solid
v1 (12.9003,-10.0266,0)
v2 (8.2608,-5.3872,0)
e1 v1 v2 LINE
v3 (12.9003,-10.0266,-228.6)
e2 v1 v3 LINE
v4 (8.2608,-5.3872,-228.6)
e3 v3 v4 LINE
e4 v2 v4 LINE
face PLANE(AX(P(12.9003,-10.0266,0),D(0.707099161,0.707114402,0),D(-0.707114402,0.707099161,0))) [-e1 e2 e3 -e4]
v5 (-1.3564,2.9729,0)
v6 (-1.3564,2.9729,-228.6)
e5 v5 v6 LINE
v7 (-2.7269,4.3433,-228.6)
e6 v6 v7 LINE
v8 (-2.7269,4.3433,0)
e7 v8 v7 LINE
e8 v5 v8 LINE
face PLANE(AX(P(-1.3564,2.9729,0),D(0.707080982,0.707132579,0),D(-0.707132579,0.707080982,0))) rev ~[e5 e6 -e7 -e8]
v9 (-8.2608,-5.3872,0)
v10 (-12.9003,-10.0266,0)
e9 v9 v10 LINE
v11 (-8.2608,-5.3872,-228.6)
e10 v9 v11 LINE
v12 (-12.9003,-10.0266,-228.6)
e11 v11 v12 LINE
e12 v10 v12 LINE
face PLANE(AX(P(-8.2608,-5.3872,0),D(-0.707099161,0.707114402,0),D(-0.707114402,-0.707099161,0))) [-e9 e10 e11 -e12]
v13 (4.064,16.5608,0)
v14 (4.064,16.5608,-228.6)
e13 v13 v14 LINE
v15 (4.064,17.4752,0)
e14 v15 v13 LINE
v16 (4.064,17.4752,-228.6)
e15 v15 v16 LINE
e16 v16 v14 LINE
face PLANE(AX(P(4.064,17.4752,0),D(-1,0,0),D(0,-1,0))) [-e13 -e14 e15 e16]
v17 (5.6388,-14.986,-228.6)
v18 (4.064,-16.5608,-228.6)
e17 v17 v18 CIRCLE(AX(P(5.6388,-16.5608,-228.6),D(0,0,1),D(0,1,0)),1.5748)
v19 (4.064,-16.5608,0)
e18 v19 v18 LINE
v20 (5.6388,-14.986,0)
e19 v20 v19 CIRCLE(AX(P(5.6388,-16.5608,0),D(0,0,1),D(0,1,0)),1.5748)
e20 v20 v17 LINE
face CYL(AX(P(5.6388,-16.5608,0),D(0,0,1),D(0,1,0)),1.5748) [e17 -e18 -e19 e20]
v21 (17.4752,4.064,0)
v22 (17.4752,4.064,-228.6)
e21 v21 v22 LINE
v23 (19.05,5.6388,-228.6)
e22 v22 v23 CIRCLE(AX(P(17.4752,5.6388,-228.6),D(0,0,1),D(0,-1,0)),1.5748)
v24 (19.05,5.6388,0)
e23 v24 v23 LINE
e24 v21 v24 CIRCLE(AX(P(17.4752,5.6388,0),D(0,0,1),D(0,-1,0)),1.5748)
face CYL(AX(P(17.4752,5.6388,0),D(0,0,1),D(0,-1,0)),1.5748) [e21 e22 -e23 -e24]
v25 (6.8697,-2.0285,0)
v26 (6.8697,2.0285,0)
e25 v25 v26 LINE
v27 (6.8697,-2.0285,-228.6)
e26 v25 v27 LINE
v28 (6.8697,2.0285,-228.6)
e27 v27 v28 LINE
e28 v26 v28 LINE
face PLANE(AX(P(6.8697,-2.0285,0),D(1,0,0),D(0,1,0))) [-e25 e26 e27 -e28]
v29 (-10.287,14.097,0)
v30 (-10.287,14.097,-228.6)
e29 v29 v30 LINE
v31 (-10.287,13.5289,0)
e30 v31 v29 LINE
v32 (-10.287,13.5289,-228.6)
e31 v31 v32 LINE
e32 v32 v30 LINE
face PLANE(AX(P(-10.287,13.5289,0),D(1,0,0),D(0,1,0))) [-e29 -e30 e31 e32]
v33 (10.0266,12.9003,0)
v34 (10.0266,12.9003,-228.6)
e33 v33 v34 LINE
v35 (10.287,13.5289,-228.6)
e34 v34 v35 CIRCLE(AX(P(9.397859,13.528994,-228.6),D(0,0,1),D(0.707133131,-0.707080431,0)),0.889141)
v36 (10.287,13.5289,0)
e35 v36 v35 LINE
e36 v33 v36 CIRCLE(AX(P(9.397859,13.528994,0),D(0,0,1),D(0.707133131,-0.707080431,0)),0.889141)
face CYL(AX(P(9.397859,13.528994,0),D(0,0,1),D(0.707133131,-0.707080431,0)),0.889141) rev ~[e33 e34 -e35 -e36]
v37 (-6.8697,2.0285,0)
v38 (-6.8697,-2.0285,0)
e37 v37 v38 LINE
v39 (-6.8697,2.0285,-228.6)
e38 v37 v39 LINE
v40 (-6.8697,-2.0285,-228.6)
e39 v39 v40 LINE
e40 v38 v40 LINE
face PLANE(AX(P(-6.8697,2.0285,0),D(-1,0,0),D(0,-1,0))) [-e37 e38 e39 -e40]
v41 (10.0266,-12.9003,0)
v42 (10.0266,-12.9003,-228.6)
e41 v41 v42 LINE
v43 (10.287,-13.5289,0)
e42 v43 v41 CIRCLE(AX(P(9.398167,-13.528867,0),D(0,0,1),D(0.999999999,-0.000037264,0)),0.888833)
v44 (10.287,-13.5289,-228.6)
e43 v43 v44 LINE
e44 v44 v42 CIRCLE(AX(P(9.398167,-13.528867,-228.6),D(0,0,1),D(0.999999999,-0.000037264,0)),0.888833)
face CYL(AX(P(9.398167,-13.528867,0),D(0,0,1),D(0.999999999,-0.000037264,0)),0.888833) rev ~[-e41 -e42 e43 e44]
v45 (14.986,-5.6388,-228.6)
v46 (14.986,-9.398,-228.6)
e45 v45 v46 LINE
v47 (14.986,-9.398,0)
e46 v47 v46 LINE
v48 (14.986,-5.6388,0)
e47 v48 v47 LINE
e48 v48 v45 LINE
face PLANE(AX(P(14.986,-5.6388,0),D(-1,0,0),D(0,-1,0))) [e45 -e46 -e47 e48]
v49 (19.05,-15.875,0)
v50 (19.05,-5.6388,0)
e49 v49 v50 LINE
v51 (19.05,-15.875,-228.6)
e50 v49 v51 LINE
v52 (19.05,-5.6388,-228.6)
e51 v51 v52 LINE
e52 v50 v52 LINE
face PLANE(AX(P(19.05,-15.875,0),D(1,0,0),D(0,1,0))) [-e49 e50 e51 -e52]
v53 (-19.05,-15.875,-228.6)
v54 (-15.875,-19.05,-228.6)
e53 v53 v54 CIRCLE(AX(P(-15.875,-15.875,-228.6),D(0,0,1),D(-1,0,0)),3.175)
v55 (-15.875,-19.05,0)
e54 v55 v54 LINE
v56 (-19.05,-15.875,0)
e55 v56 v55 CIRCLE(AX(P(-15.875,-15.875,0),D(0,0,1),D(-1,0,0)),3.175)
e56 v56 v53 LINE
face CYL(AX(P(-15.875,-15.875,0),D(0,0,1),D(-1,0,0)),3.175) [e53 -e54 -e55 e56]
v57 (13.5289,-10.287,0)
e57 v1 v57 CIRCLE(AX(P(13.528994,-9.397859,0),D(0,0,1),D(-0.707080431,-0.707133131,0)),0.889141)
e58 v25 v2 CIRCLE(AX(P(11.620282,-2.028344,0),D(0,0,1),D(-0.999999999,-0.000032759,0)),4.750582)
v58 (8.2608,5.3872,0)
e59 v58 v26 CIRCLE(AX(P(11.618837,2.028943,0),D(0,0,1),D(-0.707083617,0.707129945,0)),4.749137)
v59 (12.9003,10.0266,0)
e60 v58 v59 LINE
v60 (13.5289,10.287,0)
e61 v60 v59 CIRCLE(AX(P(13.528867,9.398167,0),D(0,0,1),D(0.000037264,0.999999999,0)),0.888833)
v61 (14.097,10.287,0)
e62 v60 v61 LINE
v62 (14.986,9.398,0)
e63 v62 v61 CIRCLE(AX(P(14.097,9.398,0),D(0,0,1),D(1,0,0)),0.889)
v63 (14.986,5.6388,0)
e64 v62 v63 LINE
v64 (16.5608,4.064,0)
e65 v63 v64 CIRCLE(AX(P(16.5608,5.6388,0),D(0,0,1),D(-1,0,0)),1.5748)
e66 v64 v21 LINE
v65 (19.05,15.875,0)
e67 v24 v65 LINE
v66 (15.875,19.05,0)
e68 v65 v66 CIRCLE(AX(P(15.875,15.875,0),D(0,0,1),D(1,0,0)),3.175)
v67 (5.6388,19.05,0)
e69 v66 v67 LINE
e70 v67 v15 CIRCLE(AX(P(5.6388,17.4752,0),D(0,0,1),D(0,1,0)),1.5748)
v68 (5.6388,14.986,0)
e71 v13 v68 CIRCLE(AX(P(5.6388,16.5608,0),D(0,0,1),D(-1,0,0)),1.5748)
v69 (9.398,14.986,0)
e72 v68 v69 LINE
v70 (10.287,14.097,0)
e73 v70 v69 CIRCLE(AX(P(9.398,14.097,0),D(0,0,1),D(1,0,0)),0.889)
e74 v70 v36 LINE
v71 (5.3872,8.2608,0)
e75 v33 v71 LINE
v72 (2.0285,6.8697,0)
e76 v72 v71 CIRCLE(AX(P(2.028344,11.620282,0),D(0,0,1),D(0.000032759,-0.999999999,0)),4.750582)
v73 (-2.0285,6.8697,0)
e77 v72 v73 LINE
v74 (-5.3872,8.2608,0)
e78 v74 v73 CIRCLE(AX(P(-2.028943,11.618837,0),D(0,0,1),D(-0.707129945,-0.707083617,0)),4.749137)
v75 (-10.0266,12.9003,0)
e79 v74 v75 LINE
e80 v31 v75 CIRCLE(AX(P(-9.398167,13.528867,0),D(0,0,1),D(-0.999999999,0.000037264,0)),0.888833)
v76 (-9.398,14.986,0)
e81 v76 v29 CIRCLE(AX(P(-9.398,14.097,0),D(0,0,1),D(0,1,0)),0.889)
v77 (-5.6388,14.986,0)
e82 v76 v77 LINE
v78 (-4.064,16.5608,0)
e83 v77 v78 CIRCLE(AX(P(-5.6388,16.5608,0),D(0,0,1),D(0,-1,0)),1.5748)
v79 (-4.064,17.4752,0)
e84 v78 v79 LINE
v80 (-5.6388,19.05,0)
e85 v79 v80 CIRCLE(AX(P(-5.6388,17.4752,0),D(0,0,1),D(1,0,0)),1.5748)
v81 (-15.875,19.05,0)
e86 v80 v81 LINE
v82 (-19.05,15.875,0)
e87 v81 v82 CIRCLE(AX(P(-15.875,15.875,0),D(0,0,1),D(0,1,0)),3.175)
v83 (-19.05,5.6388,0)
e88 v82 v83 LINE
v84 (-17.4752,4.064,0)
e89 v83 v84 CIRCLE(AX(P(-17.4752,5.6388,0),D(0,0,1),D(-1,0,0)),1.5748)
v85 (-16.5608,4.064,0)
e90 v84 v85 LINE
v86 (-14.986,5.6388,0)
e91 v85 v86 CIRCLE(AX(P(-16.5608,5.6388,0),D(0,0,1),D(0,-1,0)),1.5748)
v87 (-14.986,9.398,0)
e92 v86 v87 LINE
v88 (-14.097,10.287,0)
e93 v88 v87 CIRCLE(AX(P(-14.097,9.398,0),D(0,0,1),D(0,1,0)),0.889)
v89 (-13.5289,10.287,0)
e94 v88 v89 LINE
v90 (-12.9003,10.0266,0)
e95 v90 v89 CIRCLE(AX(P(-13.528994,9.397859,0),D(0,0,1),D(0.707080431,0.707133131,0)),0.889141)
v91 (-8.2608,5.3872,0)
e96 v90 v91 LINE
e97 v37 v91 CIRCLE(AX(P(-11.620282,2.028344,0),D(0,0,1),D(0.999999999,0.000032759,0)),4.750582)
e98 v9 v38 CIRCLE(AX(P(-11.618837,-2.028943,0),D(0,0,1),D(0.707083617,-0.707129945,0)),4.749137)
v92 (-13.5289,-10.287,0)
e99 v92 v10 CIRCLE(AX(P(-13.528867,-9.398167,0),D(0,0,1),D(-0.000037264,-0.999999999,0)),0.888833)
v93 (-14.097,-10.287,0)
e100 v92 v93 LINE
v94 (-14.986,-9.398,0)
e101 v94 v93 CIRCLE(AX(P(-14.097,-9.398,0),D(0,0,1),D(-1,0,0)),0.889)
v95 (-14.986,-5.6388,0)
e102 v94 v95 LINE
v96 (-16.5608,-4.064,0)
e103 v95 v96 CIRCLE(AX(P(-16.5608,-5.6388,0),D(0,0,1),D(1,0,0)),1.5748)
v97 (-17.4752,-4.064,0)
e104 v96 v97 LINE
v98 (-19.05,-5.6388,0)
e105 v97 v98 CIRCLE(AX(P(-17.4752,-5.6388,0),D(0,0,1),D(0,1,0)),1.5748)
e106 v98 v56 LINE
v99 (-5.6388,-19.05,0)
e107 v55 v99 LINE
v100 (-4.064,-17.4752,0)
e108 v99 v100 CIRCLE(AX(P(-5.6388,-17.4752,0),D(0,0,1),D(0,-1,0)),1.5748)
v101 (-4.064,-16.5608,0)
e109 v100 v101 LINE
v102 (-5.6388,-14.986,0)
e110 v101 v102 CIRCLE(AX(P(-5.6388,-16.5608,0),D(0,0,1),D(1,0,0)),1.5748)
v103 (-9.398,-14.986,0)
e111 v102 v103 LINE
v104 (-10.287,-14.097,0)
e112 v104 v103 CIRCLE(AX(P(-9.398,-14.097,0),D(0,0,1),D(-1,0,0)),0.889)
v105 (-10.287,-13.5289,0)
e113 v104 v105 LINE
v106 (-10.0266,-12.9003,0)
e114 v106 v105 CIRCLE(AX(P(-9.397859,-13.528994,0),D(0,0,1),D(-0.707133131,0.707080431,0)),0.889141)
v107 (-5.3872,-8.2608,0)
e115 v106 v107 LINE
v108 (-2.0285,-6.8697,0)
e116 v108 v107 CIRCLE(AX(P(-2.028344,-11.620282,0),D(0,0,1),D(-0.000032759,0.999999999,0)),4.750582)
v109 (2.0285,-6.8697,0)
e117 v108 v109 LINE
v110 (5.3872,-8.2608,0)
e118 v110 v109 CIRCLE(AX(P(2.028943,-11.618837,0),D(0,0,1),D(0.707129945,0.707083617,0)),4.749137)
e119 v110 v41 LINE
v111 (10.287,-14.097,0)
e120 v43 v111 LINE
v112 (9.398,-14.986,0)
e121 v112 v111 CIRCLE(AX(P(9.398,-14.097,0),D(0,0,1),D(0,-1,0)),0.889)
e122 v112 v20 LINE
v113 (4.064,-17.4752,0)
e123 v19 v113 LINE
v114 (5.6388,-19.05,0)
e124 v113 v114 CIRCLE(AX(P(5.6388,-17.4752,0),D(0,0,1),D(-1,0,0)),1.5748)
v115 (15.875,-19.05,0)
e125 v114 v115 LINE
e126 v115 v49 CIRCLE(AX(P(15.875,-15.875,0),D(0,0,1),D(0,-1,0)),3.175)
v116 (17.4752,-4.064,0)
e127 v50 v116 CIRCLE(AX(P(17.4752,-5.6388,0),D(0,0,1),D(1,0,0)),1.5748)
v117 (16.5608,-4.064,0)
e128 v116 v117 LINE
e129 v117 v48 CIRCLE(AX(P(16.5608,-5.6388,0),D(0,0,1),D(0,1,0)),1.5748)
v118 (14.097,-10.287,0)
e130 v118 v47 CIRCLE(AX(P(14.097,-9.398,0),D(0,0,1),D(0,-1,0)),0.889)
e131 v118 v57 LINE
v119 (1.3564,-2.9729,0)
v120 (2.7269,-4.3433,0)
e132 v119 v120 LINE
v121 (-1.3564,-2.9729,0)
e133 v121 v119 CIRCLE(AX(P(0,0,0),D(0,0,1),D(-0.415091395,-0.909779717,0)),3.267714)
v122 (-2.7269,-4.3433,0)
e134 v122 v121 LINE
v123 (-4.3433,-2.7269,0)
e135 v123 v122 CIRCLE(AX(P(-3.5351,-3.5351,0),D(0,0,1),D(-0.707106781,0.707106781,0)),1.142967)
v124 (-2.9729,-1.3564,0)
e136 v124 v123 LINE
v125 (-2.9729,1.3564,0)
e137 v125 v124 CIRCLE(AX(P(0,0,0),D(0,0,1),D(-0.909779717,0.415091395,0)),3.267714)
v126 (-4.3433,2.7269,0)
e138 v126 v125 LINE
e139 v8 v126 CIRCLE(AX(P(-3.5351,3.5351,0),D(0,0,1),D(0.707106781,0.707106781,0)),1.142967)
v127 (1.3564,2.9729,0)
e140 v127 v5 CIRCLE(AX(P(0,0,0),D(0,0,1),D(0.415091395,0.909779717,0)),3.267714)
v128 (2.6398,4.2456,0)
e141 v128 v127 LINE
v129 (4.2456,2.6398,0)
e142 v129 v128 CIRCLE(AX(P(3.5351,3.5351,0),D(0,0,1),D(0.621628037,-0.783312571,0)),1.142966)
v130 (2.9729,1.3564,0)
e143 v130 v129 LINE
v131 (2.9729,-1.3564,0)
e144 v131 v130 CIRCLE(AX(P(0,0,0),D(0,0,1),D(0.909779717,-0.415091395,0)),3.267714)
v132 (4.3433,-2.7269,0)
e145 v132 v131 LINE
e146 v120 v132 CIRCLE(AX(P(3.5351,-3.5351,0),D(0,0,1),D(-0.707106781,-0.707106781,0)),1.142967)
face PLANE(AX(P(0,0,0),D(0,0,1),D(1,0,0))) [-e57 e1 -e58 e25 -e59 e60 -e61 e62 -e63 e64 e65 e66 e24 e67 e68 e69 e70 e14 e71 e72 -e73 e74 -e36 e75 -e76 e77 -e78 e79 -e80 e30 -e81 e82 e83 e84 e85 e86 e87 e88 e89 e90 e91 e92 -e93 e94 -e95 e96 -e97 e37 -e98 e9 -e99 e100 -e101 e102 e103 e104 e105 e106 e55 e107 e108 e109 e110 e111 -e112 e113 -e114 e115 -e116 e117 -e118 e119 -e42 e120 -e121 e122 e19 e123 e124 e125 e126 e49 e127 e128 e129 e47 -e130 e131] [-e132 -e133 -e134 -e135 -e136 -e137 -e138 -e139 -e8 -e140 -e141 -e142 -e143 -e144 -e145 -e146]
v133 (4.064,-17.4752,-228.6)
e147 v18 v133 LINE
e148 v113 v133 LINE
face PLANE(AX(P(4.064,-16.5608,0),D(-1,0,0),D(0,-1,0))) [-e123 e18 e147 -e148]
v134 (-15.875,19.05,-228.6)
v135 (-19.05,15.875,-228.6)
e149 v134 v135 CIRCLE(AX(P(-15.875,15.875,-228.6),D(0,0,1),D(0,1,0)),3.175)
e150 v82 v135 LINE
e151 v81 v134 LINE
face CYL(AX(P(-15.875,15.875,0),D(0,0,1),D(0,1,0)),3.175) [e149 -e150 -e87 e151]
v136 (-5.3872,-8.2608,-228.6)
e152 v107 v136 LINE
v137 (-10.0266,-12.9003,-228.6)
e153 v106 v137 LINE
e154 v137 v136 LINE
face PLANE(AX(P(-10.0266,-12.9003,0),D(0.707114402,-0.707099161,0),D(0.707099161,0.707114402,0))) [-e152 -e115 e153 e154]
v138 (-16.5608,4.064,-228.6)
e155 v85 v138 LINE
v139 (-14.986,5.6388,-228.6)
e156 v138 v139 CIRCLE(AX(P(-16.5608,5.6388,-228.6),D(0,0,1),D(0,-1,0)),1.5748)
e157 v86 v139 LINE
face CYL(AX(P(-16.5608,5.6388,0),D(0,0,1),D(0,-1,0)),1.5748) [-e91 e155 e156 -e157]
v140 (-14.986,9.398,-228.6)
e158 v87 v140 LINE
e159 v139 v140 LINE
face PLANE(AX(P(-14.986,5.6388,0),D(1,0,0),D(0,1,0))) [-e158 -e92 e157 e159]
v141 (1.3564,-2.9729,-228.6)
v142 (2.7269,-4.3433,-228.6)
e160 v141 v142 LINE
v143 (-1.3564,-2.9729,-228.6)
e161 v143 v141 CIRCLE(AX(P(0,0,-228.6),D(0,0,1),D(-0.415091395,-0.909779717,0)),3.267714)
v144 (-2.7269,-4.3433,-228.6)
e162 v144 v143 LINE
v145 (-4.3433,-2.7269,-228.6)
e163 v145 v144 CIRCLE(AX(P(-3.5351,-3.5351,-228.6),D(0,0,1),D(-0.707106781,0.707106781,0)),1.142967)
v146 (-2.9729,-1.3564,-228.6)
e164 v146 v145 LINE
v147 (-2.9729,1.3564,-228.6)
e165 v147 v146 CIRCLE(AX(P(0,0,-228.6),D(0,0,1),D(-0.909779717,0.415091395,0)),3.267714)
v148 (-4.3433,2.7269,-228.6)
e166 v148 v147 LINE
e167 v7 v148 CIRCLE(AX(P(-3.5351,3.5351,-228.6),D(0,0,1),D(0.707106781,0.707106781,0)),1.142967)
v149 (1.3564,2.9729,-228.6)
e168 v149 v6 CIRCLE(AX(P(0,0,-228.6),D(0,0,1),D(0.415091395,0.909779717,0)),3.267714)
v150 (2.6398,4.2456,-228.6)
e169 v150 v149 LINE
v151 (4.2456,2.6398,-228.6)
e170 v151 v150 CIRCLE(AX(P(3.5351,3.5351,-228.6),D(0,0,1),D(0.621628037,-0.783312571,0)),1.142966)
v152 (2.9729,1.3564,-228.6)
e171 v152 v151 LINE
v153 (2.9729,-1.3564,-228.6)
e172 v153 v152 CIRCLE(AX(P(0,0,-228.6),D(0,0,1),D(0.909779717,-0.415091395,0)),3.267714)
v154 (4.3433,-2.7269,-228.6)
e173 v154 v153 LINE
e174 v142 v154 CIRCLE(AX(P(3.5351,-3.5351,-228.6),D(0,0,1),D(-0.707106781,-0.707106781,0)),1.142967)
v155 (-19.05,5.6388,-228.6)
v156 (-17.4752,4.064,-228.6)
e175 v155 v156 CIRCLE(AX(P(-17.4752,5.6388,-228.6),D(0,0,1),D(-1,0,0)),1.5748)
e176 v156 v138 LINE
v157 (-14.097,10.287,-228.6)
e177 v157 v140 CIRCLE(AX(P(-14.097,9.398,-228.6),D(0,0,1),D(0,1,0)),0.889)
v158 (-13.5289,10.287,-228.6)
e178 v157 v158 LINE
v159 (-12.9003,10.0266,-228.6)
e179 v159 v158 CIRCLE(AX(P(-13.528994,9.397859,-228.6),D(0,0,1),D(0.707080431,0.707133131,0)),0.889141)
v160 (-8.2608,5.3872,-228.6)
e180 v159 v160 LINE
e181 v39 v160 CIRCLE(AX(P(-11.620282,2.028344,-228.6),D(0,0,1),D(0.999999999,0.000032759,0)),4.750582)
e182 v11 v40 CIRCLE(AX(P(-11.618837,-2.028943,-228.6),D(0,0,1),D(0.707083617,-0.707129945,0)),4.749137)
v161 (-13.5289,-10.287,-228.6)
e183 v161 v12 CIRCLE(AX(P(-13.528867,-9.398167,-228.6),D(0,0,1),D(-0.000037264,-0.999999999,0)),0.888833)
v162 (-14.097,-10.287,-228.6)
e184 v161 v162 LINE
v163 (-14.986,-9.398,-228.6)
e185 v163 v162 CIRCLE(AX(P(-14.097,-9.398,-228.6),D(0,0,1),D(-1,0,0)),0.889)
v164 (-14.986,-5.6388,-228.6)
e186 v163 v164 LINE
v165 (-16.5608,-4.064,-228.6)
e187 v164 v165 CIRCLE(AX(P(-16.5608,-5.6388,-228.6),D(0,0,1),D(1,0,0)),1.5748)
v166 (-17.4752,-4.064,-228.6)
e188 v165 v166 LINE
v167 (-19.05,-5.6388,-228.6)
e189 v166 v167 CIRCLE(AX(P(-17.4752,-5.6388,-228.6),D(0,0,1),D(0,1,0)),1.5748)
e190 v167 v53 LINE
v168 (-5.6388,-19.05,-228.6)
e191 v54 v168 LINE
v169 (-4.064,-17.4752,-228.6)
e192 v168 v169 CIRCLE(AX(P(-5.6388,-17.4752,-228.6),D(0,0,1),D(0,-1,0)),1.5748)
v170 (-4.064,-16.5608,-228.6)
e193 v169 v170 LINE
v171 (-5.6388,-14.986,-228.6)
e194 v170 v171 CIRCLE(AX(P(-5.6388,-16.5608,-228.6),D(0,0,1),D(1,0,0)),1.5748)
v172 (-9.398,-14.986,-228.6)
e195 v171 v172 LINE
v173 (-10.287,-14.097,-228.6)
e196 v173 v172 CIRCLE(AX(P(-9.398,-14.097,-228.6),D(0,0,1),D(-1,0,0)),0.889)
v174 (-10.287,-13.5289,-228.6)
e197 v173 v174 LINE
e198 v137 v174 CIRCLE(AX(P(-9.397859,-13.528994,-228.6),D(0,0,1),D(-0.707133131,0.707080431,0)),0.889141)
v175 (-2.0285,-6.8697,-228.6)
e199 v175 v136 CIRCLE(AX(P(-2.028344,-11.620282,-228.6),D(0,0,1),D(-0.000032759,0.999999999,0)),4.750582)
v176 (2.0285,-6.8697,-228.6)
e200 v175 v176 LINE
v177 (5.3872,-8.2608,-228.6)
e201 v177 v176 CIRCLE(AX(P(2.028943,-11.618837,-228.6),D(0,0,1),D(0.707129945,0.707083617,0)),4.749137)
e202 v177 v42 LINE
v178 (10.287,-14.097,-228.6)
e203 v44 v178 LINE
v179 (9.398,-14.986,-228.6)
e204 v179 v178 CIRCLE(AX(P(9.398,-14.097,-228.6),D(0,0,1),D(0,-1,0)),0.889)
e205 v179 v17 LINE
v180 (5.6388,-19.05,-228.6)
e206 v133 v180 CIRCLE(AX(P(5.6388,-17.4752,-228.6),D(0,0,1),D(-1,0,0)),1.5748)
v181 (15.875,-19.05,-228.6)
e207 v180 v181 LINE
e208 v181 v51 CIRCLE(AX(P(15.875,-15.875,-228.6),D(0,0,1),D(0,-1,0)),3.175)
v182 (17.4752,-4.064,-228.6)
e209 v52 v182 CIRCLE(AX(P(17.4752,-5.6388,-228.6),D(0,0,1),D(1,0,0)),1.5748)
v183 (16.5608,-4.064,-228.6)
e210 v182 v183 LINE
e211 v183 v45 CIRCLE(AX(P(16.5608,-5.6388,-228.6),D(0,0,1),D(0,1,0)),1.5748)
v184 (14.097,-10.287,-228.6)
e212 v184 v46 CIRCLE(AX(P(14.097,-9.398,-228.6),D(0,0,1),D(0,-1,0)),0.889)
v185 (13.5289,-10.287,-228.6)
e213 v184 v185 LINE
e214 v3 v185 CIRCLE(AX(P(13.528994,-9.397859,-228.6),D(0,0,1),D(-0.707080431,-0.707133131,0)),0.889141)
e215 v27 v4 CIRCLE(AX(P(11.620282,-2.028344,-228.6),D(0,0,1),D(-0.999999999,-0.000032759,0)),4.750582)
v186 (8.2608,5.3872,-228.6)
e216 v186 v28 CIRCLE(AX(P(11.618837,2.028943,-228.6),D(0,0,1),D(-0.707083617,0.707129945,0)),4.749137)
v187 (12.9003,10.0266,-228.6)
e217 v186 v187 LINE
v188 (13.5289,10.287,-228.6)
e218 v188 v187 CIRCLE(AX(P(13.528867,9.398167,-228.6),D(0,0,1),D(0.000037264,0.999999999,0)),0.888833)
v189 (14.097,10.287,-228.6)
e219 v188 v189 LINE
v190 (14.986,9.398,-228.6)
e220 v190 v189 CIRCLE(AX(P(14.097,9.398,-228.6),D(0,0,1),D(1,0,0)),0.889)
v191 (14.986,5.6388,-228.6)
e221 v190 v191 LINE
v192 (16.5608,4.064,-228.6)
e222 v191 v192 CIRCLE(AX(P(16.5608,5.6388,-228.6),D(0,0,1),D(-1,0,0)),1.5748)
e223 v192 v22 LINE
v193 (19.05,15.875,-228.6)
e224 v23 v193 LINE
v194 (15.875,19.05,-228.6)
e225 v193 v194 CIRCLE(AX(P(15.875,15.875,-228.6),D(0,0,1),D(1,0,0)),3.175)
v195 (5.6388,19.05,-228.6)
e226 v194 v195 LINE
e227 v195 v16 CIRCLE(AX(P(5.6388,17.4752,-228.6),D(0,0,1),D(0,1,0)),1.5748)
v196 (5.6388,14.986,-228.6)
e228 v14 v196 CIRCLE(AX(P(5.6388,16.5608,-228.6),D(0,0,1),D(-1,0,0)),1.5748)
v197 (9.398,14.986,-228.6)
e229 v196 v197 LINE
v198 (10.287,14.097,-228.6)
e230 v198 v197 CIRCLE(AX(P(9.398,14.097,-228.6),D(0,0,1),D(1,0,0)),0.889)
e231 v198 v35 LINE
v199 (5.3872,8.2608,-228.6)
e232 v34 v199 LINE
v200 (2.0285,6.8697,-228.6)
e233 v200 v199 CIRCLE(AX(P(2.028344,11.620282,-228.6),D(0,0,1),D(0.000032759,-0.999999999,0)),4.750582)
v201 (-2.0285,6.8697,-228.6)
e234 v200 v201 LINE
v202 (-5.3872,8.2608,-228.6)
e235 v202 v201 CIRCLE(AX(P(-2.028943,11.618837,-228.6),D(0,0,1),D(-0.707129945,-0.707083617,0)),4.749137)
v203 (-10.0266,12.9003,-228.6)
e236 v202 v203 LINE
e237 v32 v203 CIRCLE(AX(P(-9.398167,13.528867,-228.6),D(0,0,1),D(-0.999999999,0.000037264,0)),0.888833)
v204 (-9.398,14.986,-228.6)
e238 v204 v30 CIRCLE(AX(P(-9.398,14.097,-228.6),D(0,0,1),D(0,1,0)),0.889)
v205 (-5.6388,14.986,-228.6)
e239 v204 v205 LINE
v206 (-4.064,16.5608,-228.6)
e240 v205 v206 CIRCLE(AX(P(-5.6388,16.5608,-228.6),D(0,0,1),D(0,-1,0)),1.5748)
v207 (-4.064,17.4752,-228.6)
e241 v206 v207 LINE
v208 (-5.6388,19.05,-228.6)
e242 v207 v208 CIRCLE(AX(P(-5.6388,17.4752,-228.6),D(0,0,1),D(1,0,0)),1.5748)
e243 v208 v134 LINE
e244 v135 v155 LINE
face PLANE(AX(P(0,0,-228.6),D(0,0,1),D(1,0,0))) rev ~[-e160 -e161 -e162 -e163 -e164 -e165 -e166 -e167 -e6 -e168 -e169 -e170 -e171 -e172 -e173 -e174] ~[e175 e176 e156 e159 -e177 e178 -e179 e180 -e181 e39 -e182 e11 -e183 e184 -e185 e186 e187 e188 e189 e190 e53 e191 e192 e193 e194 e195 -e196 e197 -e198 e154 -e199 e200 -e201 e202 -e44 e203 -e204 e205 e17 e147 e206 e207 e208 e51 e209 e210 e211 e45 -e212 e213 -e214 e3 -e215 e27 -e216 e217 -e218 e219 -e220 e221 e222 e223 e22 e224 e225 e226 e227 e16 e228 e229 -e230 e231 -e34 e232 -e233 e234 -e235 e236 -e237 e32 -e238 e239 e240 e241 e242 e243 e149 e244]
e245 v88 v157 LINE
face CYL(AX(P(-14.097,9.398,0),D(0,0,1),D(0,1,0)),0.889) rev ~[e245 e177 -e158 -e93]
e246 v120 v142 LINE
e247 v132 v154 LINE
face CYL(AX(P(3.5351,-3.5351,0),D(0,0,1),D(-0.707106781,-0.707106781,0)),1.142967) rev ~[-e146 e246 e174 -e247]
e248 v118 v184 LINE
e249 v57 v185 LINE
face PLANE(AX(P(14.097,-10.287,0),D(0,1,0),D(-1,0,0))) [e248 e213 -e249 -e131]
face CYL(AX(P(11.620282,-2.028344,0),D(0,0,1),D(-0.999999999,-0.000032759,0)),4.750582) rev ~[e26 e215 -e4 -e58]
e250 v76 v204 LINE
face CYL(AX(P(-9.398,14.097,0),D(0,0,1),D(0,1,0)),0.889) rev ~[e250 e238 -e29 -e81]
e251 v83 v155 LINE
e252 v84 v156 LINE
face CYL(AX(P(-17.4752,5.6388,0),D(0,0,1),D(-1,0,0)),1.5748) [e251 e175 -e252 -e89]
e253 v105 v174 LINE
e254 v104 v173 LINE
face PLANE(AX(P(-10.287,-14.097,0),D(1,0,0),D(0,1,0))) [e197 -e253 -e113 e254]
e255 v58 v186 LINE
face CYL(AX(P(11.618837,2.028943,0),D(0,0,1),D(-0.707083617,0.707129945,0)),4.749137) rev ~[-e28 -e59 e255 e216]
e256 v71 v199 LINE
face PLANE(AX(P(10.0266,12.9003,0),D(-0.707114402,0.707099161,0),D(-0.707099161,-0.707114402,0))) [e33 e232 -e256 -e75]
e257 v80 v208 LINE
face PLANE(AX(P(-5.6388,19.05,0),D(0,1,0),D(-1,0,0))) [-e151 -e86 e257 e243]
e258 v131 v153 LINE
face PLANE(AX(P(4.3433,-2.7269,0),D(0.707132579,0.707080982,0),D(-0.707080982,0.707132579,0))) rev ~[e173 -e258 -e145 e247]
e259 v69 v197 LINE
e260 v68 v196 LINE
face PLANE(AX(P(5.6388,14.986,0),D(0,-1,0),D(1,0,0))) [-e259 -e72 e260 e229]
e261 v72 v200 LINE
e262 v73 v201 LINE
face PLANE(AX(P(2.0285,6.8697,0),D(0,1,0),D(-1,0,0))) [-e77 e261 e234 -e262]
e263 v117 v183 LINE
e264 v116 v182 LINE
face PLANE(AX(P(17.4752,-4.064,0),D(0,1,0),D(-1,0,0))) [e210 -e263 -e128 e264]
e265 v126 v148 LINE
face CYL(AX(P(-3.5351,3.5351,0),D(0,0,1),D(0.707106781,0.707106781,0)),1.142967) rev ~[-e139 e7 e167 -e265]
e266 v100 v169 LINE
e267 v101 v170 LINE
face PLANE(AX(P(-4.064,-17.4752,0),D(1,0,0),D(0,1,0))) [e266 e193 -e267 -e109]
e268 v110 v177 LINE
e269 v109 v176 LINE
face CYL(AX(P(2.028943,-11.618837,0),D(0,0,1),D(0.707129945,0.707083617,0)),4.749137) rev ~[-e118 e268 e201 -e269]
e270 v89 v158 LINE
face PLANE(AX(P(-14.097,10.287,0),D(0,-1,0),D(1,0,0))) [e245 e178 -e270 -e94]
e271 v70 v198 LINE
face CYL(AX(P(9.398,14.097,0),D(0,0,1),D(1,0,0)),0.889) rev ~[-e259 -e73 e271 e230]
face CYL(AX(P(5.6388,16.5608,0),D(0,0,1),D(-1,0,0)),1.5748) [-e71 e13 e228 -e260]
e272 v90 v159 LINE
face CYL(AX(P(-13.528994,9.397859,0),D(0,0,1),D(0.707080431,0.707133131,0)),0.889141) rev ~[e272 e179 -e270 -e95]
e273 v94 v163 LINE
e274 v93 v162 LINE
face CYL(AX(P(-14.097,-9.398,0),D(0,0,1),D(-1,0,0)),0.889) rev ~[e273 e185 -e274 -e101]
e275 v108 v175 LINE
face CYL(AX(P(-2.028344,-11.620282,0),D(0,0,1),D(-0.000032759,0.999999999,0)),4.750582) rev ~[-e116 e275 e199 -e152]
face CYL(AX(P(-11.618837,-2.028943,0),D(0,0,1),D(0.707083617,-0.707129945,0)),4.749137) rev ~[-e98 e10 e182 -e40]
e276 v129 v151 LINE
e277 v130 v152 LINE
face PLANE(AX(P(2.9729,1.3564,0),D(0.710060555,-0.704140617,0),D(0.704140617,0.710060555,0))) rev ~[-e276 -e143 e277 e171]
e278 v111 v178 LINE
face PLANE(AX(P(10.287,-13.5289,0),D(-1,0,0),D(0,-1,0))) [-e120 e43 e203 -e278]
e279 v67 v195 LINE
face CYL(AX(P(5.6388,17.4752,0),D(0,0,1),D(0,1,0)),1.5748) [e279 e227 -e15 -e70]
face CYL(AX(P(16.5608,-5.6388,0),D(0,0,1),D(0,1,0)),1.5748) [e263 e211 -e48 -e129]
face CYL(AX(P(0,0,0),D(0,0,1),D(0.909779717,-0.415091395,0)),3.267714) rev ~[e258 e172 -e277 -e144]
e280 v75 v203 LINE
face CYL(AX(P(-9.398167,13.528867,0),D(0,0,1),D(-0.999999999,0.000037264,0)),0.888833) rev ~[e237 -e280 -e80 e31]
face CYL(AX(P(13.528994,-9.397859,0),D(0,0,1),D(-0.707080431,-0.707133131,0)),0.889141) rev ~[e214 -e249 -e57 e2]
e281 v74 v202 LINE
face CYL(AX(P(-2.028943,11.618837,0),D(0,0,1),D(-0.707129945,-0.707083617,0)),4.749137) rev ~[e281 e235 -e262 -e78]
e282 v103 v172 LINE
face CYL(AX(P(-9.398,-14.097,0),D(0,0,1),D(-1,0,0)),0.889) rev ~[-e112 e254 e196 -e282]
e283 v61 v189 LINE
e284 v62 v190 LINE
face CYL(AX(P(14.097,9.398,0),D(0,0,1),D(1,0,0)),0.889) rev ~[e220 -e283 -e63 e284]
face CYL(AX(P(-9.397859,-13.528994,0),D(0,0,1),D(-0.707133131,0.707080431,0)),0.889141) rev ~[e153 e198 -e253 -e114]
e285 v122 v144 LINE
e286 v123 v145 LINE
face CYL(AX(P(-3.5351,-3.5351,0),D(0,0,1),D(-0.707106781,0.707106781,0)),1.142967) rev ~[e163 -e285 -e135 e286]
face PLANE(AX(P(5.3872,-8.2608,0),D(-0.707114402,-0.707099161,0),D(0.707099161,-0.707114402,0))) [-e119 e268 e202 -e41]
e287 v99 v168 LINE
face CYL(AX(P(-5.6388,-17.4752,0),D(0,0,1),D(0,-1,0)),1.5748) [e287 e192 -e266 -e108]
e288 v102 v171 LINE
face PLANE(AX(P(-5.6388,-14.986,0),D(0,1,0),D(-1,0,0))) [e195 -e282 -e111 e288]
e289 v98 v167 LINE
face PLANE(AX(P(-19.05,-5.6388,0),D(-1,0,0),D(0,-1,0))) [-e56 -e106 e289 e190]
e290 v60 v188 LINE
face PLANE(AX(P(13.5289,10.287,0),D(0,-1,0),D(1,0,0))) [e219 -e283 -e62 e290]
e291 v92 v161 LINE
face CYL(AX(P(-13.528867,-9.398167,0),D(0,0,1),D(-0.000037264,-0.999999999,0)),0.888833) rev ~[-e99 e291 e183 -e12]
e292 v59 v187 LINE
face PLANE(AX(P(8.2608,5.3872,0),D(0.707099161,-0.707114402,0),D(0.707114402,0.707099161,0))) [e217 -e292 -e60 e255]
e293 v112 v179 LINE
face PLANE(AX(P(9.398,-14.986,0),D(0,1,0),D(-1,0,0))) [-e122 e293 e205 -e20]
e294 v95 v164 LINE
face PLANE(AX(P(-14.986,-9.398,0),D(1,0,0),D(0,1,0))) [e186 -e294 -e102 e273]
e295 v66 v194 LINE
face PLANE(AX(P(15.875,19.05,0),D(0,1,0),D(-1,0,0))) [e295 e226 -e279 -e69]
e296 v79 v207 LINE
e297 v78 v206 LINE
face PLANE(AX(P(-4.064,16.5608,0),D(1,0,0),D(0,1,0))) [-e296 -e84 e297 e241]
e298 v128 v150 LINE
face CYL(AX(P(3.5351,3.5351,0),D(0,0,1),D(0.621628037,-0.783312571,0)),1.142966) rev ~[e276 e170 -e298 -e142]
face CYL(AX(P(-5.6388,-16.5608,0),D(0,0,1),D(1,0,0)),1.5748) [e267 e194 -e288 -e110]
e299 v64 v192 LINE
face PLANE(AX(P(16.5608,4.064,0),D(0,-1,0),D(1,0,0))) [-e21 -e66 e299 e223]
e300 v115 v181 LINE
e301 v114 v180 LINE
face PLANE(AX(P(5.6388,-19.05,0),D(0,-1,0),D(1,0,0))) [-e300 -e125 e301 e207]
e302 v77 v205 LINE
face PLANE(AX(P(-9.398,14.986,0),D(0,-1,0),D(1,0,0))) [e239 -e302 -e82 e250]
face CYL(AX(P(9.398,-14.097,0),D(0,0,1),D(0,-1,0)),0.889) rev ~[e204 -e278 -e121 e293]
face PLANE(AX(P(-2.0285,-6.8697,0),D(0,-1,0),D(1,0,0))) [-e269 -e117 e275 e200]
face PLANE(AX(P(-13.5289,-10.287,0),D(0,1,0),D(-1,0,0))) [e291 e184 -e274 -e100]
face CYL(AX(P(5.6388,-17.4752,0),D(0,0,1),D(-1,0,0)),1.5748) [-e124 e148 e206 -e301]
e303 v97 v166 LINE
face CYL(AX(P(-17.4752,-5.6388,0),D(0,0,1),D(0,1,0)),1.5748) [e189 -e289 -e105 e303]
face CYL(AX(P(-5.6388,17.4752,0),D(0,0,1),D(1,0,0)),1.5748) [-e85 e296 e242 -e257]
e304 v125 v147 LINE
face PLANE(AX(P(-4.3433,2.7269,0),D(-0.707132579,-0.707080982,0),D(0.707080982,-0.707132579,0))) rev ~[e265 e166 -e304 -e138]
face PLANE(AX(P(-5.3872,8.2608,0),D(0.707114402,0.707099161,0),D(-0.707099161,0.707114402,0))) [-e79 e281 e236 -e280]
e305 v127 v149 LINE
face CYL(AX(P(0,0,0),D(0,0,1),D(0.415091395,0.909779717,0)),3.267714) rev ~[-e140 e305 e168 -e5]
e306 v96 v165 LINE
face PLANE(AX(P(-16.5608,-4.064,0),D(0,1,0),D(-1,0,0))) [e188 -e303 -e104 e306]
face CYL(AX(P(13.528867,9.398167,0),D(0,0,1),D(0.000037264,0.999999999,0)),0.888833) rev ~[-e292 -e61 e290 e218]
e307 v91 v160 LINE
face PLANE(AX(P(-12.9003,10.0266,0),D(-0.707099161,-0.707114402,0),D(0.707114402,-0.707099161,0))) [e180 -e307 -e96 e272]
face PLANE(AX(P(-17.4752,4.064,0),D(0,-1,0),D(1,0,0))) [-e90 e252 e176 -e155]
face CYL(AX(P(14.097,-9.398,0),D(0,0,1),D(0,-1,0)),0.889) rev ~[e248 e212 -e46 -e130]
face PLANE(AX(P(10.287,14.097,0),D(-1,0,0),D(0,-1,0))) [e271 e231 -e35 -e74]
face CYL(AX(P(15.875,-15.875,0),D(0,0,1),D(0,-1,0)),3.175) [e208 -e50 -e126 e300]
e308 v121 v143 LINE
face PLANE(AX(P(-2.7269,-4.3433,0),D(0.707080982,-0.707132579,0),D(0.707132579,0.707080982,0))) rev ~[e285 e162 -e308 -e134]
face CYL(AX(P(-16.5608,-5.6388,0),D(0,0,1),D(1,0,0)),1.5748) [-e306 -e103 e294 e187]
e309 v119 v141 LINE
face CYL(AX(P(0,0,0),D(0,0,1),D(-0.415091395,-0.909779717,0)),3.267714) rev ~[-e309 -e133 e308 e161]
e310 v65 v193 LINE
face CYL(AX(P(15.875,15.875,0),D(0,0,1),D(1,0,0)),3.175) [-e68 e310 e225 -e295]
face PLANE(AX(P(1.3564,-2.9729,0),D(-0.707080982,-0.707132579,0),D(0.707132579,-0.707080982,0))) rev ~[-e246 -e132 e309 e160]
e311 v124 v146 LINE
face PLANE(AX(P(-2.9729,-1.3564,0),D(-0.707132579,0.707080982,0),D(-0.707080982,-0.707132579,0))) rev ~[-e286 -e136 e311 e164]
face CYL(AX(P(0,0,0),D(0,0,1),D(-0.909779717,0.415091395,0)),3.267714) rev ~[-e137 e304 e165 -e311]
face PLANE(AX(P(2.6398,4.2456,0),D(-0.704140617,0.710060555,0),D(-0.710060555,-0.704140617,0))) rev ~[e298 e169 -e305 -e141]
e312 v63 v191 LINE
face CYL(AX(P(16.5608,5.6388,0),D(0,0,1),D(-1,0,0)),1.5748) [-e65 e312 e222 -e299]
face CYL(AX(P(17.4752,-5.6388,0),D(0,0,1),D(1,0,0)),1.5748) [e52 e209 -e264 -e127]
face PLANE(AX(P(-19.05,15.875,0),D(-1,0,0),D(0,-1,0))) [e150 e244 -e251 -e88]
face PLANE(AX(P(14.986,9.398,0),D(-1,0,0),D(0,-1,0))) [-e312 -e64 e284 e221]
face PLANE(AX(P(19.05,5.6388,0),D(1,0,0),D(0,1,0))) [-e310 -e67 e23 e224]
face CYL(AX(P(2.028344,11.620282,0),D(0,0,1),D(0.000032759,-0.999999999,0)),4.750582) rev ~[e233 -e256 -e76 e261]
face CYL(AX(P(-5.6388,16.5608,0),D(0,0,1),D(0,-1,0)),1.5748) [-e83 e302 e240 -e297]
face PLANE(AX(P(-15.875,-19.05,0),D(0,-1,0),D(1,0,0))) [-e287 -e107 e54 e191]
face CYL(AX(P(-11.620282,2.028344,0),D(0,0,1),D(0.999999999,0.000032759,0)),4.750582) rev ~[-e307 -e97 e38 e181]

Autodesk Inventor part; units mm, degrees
ref_plane "YZ Plane" through (0, 0, 0) normal (1, 0, 0) x (0, 1, 0)
ref_plane "XZ Plane" through (0, 0, 0) normal (0, 1, 0) x (-1, 0, 0)
ref_plane "Work Plane1" through (-293.8098, -15.875, -838.2) normal (0, 0, 1) x (1, 0, 0)
sketch "Sketch1" plane through (0, 0, 0) normal (0, 0, 1) x (1, 0, 0)
  arc A0 (4.2456, 2.6398) -> (2.6398, 4.2456) centre (3.5351, 3.5351) ccw
  line L0 (2.9729, 1.3564) -> (4.2456, 2.6398)
  arc A1 (2.9729, -1.3564) -> (2.9729, 1.3564) centre (0, 0) ccw
  line L1 (4.3433, -2.7269) -> (2.9729, -1.3564)
  arc A2 (2.7269, -4.3433) -> (4.3433, -2.7269) centre (3.5351, -3.5351) ccw
  line L2 (1.3564, -2.9729) -> (2.7269, -4.3433)
  arc A3 (-1.3564, -2.9729) -> (1.3564, -2.9729) centre (0, 0) ccw
  line L3 (-2.7269, -4.3433) -> (-1.3564, -2.9729)
  arc A4 (-4.3433, -2.7269) -> (-2.7269, -4.3433) centre (-3.5351, -3.5351) ccw
  line L4 (-2.9729, -1.3564) -> (-4.3433, -2.7269)
  arc A5 (-2.9729, 1.3564) -> (-2.9729, -1.3564) centre (0, 0) ccw
  line L5 (-4.3433, 2.7269) -> (-2.9729, 1.3564)
  arc A6 (-2.7269, 4.3433) -> (-4.3433, 2.7269) centre (-3.5351, 3.5351) ccw
  line L6 (-1.3564, 2.9729) -> (-2.7269, 4.3433)
  arc A7 (1.3564, 2.9729) -> (-1.3564, 2.9729) centre (0, 0) ccw
  line L7 (2.6398, 4.2456) -> (1.3564, 2.9729)
  arc A8 (16.5608, -4.064) -> (14.986, -5.6388) centre (16.5608, -5.6388) ccw
  line L8 (14.986, -5.6388) -> (14.986, -9.398)
  arc A9 (14.097, -10.287) -> (14.986, -9.398) centre (14.097, -9.398) ccw
  line L9 (14.097, -10.287) -> (13.5289, -10.287)
  arc A10 (12.9003, -10.0266) -> (13.5289, -10.287) centre (13.5289, -9.398) ccw
  line L10 (12.9003, -10.0266) -> (8.2608, -5.3872)
  arc A11 (6.8697, -2.0285) -> (8.2608, -5.3872) centre (11.6195, -2.0285) ccw
  line L11 (6.8697, -2.0285) -> (6.8697, 2.0285)
  arc A12 (8.2608, 5.3872) -> (6.8697, 2.0285) centre (11.6195, 2.0285) ccw
  line L12 (8.2608, 5.3872) -> (12.9003, 10.0266)
  arc A13 (13.5289, 10.287) -> (12.9003, 10.0266) centre (13.5289, 9.398) ccw
  line L13 (13.5289, 10.287) -> (14.097, 10.287)
  arc A14 (14.986, 9.398) -> (14.097, 10.287) centre (14.097, 9.398) ccw
  line L14 (14.986, 9.398) -> (14.986, 5.6388)
  arc A15 (14.986, 5.6388) -> (16.5608, 4.064) centre (16.5608, 5.6388) ccw
  line L15 (16.5608, 4.064) -> (17.4752, 4.064)
  arc A16 (17.4752, 4.064) -> (19.05, 5.6388) centre (17.4752, 5.6388) ccw
  line L16 (19.05, 5.6388) -> (19.05, 15.875)
  arc A17 (19.05, 15.875) -> (15.875, 19.05) centre (15.875, 15.875) ccw
  line L17 (15.875, 19.05) -> (5.6388, 19.05)
  arc A18 (5.6388, 19.05) -> (4.064, 17.4752) centre (5.6388, 17.4752) ccw
  line L18 (4.064, 17.4752) -> (4.064, 16.5608)
  arc A19 (4.064, 16.5608) -> (5.6388, 14.986) centre (5.6388, 16.5608) ccw
  line L19 (5.6388, 14.986) -> (9.398, 14.986)
  arc A20 (10.287, 14.097) -> (9.398, 14.986) centre (9.398, 14.097) ccw
  line L20 (10.287, 14.097) -> (10.287, 13.5289)
  arc A21 (10.0266, 12.9003) -> (10.287, 13.5289) centre (9.398, 13.5289) ccw
  line L21 (10.0266, 12.9003) -> (5.3872, 8.2608)
  arc A22 (2.0285, 6.8697) -> (5.3872, 8.2608) centre (2.0285, 11.6195) ccw
  line L22 (2.0285, 6.8697) -> (-2.0285, 6.8697)
  arc A23 (-5.3872, 8.2608) -> (-2.0285, 6.8697) centre (-2.0285, 11.6195) ccw
  line L23 (-5.3872, 8.2608) -> (-10.0266, 12.9003)
  arc A24 (-10.287, 13.5289) -> (-10.0266, 12.9003) centre (-9.398, 13.5289) ccw
  line L24 (-10.287, 13.5289) -> (-10.287, 14.097)
  arc A25 (-9.398, 14.986) -> (-10.287, 14.097) centre (-9.398, 14.097) ccw
  line L25 (-9.398, 14.986) -> (-5.6388, 14.986)
  arc A26 (-5.6388, 14.986) -> (-4.064, 16.5608) centre (-5.6388, 16.5608) ccw
  line L26 (-4.064, 16.5608) -> (-4.064, 17.4752)
  arc A27 (-4.064, 17.4752) -> (-5.6388, 19.05) centre (-5.6388, 17.4752) ccw
  line L27 (-5.6388, 19.05) -> (-15.875, 19.05)
  arc A28 (-15.875, 19.05) -> (-19.05, 15.875) centre (-15.875, 15.875) ccw
  line L28 (-19.05, 15.875) -> (-19.05, 5.6388)
  arc A29 (-19.05, 5.6388) -> (-17.4752, 4.064) centre (-17.4752, 5.6388) ccw
  line L29 (-17.4752, 4.064) -> (-16.5608, 4.064)
  arc A30 (-16.5608, 4.064) -> (-14.986, 5.6388) centre (-16.5608, 5.6388) ccw
  line L30 (-14.986, 5.6388) -> (-14.986, 9.398)
  arc A31 (-14.097, 10.287) -> (-14.986, 9.398) centre (-14.097, 9.398) ccw
  line L31 (-14.097, 10.287) -> (-13.5289, 10.287)
  arc A32 (-12.9003, 10.0266) -> (-13.5289, 10.287) centre (-13.5289, 9.398) ccw
  line L32 (-12.9003, 10.0266) -> (-8.2608, 5.3872)
  arc A33 (-6.8697, 2.0285) -> (-8.2608, 5.3872) centre (-11.6195, 2.0285) ccw
  line L33 (-6.8697, 2.0285) -> (-6.8697, -2.0285)
  arc A34 (-8.2608, -5.3872) -> (-6.8697, -2.0285) centre (-11.6195, -2.0285) ccw
  line L34 (-8.2608, -5.3872) -> (-12.9003, -10.0266)
  arc A35 (-13.5289, -10.287) -> (-12.9003, -10.0266) centre (-13.5289, -9.398) ccw
  line L35 (-13.5289, -10.287) -> (-14.097, -10.287)
  arc A36 (-14.986, -9.398) -> (-14.097, -10.287) centre (-14.097, -9.398) ccw
  line L36 (-14.986, -9.398) -> (-14.986, -5.6388)
  arc A37 (-14.986, -5.6388) -> (-16.5608, -4.064) centre (-16.5608, -5.6388) ccw
  line L37 (-16.5608, -4.064) -> (-17.4752, -4.064)
  arc A38 (-17.4752, -4.064) -> (-19.05, -5.6388) centre (-17.4752, -5.6388) ccw
  line L38 (-19.05, -5.6388) -> (-19.05, -15.875)
  arc A39 (-19.05, -15.875) -> (-15.875, -19.05) centre (-15.875, -15.875) ccw
  line L39 (-15.875, -19.05) -> (-5.6388, -19.05)
  arc A40 (-5.6388, -19.05) -> (-4.064, -17.4752) centre (-5.6388, -17.4752) ccw
  line L40 (-4.064, -17.4752) -> (-4.064, -16.5608)
  arc A41 (-4.064, -16.5608) -> (-5.6388, -14.986) centre (-5.6388, -16.5608) ccw
  line L41 (-5.6388, -14.986) -> (-9.398, -14.986)
  arc A42 (-10.287, -14.097) -> (-9.398, -14.986) centre (-9.398, -14.097) ccw
  line L42 (-10.287, -14.097) -> (-10.287, -13.5289)
  arc A43 (-10.0266, -12.9003) -> (-10.287, -13.5289) centre (-9.398, -13.5289) ccw
  line L43 (-10.0266, -12.9003) -> (-5.3872, -8.2608)
  arc A44 (-2.0285, -6.8697) -> (-5.3872, -8.2608) centre (-2.0285, -11.6195) ccw
  line L44 (-2.0285, -6.8697) -> (2.0285, -6.8697)
  arc A45 (5.3872, -8.2608) -> (2.0285, -6.8697) centre (2.0285, -11.6195) ccw
  line L45 (5.3872, -8.2608) -> (10.0266, -12.9003)
  arc A46 (10.287, -13.5289) -> (10.0266, -12.9003) centre (9.398, -13.5289) ccw
  line L46 (10.287, -13.5289) -> (10.287, -14.097)
  arc A47 (9.398, -14.986) -> (10.287, -14.097) centre (9.398, -14.097) ccw
  line L47 (9.398, -14.986) -> (5.6388, -14.986)
  arc A48 (5.6388, -14.986) -> (4.064, -16.5608) centre (5.6388, -16.5608) ccw
  line L48 (4.064, -16.5608) -> (4.064, -17.4752)
  arc A49 (4.064, -17.4752) -> (5.6388, -19.05) centre (5.6388, -17.4752) ccw
  line L49 (5.6388, -19.05) -> (15.875, -19.05)
  arc A50 (15.875, -19.05) -> (19.05, -15.875) centre (15.875, -15.875) ccw
  line L50 (19.05, -15.875) -> (19.05, -5.6388)
  arc A51 (19.05, -5.6388) -> (17.4752, -4.064) centre (17.4752, -5.6388) ccw
  line L51 (17.4752, -4.064) -> (16.5608, -4.064)
extrude "Extrusion1" add sketch "Sketch1" against normal blind 228.6
properties part number "1515-S" material "Aluminum"
